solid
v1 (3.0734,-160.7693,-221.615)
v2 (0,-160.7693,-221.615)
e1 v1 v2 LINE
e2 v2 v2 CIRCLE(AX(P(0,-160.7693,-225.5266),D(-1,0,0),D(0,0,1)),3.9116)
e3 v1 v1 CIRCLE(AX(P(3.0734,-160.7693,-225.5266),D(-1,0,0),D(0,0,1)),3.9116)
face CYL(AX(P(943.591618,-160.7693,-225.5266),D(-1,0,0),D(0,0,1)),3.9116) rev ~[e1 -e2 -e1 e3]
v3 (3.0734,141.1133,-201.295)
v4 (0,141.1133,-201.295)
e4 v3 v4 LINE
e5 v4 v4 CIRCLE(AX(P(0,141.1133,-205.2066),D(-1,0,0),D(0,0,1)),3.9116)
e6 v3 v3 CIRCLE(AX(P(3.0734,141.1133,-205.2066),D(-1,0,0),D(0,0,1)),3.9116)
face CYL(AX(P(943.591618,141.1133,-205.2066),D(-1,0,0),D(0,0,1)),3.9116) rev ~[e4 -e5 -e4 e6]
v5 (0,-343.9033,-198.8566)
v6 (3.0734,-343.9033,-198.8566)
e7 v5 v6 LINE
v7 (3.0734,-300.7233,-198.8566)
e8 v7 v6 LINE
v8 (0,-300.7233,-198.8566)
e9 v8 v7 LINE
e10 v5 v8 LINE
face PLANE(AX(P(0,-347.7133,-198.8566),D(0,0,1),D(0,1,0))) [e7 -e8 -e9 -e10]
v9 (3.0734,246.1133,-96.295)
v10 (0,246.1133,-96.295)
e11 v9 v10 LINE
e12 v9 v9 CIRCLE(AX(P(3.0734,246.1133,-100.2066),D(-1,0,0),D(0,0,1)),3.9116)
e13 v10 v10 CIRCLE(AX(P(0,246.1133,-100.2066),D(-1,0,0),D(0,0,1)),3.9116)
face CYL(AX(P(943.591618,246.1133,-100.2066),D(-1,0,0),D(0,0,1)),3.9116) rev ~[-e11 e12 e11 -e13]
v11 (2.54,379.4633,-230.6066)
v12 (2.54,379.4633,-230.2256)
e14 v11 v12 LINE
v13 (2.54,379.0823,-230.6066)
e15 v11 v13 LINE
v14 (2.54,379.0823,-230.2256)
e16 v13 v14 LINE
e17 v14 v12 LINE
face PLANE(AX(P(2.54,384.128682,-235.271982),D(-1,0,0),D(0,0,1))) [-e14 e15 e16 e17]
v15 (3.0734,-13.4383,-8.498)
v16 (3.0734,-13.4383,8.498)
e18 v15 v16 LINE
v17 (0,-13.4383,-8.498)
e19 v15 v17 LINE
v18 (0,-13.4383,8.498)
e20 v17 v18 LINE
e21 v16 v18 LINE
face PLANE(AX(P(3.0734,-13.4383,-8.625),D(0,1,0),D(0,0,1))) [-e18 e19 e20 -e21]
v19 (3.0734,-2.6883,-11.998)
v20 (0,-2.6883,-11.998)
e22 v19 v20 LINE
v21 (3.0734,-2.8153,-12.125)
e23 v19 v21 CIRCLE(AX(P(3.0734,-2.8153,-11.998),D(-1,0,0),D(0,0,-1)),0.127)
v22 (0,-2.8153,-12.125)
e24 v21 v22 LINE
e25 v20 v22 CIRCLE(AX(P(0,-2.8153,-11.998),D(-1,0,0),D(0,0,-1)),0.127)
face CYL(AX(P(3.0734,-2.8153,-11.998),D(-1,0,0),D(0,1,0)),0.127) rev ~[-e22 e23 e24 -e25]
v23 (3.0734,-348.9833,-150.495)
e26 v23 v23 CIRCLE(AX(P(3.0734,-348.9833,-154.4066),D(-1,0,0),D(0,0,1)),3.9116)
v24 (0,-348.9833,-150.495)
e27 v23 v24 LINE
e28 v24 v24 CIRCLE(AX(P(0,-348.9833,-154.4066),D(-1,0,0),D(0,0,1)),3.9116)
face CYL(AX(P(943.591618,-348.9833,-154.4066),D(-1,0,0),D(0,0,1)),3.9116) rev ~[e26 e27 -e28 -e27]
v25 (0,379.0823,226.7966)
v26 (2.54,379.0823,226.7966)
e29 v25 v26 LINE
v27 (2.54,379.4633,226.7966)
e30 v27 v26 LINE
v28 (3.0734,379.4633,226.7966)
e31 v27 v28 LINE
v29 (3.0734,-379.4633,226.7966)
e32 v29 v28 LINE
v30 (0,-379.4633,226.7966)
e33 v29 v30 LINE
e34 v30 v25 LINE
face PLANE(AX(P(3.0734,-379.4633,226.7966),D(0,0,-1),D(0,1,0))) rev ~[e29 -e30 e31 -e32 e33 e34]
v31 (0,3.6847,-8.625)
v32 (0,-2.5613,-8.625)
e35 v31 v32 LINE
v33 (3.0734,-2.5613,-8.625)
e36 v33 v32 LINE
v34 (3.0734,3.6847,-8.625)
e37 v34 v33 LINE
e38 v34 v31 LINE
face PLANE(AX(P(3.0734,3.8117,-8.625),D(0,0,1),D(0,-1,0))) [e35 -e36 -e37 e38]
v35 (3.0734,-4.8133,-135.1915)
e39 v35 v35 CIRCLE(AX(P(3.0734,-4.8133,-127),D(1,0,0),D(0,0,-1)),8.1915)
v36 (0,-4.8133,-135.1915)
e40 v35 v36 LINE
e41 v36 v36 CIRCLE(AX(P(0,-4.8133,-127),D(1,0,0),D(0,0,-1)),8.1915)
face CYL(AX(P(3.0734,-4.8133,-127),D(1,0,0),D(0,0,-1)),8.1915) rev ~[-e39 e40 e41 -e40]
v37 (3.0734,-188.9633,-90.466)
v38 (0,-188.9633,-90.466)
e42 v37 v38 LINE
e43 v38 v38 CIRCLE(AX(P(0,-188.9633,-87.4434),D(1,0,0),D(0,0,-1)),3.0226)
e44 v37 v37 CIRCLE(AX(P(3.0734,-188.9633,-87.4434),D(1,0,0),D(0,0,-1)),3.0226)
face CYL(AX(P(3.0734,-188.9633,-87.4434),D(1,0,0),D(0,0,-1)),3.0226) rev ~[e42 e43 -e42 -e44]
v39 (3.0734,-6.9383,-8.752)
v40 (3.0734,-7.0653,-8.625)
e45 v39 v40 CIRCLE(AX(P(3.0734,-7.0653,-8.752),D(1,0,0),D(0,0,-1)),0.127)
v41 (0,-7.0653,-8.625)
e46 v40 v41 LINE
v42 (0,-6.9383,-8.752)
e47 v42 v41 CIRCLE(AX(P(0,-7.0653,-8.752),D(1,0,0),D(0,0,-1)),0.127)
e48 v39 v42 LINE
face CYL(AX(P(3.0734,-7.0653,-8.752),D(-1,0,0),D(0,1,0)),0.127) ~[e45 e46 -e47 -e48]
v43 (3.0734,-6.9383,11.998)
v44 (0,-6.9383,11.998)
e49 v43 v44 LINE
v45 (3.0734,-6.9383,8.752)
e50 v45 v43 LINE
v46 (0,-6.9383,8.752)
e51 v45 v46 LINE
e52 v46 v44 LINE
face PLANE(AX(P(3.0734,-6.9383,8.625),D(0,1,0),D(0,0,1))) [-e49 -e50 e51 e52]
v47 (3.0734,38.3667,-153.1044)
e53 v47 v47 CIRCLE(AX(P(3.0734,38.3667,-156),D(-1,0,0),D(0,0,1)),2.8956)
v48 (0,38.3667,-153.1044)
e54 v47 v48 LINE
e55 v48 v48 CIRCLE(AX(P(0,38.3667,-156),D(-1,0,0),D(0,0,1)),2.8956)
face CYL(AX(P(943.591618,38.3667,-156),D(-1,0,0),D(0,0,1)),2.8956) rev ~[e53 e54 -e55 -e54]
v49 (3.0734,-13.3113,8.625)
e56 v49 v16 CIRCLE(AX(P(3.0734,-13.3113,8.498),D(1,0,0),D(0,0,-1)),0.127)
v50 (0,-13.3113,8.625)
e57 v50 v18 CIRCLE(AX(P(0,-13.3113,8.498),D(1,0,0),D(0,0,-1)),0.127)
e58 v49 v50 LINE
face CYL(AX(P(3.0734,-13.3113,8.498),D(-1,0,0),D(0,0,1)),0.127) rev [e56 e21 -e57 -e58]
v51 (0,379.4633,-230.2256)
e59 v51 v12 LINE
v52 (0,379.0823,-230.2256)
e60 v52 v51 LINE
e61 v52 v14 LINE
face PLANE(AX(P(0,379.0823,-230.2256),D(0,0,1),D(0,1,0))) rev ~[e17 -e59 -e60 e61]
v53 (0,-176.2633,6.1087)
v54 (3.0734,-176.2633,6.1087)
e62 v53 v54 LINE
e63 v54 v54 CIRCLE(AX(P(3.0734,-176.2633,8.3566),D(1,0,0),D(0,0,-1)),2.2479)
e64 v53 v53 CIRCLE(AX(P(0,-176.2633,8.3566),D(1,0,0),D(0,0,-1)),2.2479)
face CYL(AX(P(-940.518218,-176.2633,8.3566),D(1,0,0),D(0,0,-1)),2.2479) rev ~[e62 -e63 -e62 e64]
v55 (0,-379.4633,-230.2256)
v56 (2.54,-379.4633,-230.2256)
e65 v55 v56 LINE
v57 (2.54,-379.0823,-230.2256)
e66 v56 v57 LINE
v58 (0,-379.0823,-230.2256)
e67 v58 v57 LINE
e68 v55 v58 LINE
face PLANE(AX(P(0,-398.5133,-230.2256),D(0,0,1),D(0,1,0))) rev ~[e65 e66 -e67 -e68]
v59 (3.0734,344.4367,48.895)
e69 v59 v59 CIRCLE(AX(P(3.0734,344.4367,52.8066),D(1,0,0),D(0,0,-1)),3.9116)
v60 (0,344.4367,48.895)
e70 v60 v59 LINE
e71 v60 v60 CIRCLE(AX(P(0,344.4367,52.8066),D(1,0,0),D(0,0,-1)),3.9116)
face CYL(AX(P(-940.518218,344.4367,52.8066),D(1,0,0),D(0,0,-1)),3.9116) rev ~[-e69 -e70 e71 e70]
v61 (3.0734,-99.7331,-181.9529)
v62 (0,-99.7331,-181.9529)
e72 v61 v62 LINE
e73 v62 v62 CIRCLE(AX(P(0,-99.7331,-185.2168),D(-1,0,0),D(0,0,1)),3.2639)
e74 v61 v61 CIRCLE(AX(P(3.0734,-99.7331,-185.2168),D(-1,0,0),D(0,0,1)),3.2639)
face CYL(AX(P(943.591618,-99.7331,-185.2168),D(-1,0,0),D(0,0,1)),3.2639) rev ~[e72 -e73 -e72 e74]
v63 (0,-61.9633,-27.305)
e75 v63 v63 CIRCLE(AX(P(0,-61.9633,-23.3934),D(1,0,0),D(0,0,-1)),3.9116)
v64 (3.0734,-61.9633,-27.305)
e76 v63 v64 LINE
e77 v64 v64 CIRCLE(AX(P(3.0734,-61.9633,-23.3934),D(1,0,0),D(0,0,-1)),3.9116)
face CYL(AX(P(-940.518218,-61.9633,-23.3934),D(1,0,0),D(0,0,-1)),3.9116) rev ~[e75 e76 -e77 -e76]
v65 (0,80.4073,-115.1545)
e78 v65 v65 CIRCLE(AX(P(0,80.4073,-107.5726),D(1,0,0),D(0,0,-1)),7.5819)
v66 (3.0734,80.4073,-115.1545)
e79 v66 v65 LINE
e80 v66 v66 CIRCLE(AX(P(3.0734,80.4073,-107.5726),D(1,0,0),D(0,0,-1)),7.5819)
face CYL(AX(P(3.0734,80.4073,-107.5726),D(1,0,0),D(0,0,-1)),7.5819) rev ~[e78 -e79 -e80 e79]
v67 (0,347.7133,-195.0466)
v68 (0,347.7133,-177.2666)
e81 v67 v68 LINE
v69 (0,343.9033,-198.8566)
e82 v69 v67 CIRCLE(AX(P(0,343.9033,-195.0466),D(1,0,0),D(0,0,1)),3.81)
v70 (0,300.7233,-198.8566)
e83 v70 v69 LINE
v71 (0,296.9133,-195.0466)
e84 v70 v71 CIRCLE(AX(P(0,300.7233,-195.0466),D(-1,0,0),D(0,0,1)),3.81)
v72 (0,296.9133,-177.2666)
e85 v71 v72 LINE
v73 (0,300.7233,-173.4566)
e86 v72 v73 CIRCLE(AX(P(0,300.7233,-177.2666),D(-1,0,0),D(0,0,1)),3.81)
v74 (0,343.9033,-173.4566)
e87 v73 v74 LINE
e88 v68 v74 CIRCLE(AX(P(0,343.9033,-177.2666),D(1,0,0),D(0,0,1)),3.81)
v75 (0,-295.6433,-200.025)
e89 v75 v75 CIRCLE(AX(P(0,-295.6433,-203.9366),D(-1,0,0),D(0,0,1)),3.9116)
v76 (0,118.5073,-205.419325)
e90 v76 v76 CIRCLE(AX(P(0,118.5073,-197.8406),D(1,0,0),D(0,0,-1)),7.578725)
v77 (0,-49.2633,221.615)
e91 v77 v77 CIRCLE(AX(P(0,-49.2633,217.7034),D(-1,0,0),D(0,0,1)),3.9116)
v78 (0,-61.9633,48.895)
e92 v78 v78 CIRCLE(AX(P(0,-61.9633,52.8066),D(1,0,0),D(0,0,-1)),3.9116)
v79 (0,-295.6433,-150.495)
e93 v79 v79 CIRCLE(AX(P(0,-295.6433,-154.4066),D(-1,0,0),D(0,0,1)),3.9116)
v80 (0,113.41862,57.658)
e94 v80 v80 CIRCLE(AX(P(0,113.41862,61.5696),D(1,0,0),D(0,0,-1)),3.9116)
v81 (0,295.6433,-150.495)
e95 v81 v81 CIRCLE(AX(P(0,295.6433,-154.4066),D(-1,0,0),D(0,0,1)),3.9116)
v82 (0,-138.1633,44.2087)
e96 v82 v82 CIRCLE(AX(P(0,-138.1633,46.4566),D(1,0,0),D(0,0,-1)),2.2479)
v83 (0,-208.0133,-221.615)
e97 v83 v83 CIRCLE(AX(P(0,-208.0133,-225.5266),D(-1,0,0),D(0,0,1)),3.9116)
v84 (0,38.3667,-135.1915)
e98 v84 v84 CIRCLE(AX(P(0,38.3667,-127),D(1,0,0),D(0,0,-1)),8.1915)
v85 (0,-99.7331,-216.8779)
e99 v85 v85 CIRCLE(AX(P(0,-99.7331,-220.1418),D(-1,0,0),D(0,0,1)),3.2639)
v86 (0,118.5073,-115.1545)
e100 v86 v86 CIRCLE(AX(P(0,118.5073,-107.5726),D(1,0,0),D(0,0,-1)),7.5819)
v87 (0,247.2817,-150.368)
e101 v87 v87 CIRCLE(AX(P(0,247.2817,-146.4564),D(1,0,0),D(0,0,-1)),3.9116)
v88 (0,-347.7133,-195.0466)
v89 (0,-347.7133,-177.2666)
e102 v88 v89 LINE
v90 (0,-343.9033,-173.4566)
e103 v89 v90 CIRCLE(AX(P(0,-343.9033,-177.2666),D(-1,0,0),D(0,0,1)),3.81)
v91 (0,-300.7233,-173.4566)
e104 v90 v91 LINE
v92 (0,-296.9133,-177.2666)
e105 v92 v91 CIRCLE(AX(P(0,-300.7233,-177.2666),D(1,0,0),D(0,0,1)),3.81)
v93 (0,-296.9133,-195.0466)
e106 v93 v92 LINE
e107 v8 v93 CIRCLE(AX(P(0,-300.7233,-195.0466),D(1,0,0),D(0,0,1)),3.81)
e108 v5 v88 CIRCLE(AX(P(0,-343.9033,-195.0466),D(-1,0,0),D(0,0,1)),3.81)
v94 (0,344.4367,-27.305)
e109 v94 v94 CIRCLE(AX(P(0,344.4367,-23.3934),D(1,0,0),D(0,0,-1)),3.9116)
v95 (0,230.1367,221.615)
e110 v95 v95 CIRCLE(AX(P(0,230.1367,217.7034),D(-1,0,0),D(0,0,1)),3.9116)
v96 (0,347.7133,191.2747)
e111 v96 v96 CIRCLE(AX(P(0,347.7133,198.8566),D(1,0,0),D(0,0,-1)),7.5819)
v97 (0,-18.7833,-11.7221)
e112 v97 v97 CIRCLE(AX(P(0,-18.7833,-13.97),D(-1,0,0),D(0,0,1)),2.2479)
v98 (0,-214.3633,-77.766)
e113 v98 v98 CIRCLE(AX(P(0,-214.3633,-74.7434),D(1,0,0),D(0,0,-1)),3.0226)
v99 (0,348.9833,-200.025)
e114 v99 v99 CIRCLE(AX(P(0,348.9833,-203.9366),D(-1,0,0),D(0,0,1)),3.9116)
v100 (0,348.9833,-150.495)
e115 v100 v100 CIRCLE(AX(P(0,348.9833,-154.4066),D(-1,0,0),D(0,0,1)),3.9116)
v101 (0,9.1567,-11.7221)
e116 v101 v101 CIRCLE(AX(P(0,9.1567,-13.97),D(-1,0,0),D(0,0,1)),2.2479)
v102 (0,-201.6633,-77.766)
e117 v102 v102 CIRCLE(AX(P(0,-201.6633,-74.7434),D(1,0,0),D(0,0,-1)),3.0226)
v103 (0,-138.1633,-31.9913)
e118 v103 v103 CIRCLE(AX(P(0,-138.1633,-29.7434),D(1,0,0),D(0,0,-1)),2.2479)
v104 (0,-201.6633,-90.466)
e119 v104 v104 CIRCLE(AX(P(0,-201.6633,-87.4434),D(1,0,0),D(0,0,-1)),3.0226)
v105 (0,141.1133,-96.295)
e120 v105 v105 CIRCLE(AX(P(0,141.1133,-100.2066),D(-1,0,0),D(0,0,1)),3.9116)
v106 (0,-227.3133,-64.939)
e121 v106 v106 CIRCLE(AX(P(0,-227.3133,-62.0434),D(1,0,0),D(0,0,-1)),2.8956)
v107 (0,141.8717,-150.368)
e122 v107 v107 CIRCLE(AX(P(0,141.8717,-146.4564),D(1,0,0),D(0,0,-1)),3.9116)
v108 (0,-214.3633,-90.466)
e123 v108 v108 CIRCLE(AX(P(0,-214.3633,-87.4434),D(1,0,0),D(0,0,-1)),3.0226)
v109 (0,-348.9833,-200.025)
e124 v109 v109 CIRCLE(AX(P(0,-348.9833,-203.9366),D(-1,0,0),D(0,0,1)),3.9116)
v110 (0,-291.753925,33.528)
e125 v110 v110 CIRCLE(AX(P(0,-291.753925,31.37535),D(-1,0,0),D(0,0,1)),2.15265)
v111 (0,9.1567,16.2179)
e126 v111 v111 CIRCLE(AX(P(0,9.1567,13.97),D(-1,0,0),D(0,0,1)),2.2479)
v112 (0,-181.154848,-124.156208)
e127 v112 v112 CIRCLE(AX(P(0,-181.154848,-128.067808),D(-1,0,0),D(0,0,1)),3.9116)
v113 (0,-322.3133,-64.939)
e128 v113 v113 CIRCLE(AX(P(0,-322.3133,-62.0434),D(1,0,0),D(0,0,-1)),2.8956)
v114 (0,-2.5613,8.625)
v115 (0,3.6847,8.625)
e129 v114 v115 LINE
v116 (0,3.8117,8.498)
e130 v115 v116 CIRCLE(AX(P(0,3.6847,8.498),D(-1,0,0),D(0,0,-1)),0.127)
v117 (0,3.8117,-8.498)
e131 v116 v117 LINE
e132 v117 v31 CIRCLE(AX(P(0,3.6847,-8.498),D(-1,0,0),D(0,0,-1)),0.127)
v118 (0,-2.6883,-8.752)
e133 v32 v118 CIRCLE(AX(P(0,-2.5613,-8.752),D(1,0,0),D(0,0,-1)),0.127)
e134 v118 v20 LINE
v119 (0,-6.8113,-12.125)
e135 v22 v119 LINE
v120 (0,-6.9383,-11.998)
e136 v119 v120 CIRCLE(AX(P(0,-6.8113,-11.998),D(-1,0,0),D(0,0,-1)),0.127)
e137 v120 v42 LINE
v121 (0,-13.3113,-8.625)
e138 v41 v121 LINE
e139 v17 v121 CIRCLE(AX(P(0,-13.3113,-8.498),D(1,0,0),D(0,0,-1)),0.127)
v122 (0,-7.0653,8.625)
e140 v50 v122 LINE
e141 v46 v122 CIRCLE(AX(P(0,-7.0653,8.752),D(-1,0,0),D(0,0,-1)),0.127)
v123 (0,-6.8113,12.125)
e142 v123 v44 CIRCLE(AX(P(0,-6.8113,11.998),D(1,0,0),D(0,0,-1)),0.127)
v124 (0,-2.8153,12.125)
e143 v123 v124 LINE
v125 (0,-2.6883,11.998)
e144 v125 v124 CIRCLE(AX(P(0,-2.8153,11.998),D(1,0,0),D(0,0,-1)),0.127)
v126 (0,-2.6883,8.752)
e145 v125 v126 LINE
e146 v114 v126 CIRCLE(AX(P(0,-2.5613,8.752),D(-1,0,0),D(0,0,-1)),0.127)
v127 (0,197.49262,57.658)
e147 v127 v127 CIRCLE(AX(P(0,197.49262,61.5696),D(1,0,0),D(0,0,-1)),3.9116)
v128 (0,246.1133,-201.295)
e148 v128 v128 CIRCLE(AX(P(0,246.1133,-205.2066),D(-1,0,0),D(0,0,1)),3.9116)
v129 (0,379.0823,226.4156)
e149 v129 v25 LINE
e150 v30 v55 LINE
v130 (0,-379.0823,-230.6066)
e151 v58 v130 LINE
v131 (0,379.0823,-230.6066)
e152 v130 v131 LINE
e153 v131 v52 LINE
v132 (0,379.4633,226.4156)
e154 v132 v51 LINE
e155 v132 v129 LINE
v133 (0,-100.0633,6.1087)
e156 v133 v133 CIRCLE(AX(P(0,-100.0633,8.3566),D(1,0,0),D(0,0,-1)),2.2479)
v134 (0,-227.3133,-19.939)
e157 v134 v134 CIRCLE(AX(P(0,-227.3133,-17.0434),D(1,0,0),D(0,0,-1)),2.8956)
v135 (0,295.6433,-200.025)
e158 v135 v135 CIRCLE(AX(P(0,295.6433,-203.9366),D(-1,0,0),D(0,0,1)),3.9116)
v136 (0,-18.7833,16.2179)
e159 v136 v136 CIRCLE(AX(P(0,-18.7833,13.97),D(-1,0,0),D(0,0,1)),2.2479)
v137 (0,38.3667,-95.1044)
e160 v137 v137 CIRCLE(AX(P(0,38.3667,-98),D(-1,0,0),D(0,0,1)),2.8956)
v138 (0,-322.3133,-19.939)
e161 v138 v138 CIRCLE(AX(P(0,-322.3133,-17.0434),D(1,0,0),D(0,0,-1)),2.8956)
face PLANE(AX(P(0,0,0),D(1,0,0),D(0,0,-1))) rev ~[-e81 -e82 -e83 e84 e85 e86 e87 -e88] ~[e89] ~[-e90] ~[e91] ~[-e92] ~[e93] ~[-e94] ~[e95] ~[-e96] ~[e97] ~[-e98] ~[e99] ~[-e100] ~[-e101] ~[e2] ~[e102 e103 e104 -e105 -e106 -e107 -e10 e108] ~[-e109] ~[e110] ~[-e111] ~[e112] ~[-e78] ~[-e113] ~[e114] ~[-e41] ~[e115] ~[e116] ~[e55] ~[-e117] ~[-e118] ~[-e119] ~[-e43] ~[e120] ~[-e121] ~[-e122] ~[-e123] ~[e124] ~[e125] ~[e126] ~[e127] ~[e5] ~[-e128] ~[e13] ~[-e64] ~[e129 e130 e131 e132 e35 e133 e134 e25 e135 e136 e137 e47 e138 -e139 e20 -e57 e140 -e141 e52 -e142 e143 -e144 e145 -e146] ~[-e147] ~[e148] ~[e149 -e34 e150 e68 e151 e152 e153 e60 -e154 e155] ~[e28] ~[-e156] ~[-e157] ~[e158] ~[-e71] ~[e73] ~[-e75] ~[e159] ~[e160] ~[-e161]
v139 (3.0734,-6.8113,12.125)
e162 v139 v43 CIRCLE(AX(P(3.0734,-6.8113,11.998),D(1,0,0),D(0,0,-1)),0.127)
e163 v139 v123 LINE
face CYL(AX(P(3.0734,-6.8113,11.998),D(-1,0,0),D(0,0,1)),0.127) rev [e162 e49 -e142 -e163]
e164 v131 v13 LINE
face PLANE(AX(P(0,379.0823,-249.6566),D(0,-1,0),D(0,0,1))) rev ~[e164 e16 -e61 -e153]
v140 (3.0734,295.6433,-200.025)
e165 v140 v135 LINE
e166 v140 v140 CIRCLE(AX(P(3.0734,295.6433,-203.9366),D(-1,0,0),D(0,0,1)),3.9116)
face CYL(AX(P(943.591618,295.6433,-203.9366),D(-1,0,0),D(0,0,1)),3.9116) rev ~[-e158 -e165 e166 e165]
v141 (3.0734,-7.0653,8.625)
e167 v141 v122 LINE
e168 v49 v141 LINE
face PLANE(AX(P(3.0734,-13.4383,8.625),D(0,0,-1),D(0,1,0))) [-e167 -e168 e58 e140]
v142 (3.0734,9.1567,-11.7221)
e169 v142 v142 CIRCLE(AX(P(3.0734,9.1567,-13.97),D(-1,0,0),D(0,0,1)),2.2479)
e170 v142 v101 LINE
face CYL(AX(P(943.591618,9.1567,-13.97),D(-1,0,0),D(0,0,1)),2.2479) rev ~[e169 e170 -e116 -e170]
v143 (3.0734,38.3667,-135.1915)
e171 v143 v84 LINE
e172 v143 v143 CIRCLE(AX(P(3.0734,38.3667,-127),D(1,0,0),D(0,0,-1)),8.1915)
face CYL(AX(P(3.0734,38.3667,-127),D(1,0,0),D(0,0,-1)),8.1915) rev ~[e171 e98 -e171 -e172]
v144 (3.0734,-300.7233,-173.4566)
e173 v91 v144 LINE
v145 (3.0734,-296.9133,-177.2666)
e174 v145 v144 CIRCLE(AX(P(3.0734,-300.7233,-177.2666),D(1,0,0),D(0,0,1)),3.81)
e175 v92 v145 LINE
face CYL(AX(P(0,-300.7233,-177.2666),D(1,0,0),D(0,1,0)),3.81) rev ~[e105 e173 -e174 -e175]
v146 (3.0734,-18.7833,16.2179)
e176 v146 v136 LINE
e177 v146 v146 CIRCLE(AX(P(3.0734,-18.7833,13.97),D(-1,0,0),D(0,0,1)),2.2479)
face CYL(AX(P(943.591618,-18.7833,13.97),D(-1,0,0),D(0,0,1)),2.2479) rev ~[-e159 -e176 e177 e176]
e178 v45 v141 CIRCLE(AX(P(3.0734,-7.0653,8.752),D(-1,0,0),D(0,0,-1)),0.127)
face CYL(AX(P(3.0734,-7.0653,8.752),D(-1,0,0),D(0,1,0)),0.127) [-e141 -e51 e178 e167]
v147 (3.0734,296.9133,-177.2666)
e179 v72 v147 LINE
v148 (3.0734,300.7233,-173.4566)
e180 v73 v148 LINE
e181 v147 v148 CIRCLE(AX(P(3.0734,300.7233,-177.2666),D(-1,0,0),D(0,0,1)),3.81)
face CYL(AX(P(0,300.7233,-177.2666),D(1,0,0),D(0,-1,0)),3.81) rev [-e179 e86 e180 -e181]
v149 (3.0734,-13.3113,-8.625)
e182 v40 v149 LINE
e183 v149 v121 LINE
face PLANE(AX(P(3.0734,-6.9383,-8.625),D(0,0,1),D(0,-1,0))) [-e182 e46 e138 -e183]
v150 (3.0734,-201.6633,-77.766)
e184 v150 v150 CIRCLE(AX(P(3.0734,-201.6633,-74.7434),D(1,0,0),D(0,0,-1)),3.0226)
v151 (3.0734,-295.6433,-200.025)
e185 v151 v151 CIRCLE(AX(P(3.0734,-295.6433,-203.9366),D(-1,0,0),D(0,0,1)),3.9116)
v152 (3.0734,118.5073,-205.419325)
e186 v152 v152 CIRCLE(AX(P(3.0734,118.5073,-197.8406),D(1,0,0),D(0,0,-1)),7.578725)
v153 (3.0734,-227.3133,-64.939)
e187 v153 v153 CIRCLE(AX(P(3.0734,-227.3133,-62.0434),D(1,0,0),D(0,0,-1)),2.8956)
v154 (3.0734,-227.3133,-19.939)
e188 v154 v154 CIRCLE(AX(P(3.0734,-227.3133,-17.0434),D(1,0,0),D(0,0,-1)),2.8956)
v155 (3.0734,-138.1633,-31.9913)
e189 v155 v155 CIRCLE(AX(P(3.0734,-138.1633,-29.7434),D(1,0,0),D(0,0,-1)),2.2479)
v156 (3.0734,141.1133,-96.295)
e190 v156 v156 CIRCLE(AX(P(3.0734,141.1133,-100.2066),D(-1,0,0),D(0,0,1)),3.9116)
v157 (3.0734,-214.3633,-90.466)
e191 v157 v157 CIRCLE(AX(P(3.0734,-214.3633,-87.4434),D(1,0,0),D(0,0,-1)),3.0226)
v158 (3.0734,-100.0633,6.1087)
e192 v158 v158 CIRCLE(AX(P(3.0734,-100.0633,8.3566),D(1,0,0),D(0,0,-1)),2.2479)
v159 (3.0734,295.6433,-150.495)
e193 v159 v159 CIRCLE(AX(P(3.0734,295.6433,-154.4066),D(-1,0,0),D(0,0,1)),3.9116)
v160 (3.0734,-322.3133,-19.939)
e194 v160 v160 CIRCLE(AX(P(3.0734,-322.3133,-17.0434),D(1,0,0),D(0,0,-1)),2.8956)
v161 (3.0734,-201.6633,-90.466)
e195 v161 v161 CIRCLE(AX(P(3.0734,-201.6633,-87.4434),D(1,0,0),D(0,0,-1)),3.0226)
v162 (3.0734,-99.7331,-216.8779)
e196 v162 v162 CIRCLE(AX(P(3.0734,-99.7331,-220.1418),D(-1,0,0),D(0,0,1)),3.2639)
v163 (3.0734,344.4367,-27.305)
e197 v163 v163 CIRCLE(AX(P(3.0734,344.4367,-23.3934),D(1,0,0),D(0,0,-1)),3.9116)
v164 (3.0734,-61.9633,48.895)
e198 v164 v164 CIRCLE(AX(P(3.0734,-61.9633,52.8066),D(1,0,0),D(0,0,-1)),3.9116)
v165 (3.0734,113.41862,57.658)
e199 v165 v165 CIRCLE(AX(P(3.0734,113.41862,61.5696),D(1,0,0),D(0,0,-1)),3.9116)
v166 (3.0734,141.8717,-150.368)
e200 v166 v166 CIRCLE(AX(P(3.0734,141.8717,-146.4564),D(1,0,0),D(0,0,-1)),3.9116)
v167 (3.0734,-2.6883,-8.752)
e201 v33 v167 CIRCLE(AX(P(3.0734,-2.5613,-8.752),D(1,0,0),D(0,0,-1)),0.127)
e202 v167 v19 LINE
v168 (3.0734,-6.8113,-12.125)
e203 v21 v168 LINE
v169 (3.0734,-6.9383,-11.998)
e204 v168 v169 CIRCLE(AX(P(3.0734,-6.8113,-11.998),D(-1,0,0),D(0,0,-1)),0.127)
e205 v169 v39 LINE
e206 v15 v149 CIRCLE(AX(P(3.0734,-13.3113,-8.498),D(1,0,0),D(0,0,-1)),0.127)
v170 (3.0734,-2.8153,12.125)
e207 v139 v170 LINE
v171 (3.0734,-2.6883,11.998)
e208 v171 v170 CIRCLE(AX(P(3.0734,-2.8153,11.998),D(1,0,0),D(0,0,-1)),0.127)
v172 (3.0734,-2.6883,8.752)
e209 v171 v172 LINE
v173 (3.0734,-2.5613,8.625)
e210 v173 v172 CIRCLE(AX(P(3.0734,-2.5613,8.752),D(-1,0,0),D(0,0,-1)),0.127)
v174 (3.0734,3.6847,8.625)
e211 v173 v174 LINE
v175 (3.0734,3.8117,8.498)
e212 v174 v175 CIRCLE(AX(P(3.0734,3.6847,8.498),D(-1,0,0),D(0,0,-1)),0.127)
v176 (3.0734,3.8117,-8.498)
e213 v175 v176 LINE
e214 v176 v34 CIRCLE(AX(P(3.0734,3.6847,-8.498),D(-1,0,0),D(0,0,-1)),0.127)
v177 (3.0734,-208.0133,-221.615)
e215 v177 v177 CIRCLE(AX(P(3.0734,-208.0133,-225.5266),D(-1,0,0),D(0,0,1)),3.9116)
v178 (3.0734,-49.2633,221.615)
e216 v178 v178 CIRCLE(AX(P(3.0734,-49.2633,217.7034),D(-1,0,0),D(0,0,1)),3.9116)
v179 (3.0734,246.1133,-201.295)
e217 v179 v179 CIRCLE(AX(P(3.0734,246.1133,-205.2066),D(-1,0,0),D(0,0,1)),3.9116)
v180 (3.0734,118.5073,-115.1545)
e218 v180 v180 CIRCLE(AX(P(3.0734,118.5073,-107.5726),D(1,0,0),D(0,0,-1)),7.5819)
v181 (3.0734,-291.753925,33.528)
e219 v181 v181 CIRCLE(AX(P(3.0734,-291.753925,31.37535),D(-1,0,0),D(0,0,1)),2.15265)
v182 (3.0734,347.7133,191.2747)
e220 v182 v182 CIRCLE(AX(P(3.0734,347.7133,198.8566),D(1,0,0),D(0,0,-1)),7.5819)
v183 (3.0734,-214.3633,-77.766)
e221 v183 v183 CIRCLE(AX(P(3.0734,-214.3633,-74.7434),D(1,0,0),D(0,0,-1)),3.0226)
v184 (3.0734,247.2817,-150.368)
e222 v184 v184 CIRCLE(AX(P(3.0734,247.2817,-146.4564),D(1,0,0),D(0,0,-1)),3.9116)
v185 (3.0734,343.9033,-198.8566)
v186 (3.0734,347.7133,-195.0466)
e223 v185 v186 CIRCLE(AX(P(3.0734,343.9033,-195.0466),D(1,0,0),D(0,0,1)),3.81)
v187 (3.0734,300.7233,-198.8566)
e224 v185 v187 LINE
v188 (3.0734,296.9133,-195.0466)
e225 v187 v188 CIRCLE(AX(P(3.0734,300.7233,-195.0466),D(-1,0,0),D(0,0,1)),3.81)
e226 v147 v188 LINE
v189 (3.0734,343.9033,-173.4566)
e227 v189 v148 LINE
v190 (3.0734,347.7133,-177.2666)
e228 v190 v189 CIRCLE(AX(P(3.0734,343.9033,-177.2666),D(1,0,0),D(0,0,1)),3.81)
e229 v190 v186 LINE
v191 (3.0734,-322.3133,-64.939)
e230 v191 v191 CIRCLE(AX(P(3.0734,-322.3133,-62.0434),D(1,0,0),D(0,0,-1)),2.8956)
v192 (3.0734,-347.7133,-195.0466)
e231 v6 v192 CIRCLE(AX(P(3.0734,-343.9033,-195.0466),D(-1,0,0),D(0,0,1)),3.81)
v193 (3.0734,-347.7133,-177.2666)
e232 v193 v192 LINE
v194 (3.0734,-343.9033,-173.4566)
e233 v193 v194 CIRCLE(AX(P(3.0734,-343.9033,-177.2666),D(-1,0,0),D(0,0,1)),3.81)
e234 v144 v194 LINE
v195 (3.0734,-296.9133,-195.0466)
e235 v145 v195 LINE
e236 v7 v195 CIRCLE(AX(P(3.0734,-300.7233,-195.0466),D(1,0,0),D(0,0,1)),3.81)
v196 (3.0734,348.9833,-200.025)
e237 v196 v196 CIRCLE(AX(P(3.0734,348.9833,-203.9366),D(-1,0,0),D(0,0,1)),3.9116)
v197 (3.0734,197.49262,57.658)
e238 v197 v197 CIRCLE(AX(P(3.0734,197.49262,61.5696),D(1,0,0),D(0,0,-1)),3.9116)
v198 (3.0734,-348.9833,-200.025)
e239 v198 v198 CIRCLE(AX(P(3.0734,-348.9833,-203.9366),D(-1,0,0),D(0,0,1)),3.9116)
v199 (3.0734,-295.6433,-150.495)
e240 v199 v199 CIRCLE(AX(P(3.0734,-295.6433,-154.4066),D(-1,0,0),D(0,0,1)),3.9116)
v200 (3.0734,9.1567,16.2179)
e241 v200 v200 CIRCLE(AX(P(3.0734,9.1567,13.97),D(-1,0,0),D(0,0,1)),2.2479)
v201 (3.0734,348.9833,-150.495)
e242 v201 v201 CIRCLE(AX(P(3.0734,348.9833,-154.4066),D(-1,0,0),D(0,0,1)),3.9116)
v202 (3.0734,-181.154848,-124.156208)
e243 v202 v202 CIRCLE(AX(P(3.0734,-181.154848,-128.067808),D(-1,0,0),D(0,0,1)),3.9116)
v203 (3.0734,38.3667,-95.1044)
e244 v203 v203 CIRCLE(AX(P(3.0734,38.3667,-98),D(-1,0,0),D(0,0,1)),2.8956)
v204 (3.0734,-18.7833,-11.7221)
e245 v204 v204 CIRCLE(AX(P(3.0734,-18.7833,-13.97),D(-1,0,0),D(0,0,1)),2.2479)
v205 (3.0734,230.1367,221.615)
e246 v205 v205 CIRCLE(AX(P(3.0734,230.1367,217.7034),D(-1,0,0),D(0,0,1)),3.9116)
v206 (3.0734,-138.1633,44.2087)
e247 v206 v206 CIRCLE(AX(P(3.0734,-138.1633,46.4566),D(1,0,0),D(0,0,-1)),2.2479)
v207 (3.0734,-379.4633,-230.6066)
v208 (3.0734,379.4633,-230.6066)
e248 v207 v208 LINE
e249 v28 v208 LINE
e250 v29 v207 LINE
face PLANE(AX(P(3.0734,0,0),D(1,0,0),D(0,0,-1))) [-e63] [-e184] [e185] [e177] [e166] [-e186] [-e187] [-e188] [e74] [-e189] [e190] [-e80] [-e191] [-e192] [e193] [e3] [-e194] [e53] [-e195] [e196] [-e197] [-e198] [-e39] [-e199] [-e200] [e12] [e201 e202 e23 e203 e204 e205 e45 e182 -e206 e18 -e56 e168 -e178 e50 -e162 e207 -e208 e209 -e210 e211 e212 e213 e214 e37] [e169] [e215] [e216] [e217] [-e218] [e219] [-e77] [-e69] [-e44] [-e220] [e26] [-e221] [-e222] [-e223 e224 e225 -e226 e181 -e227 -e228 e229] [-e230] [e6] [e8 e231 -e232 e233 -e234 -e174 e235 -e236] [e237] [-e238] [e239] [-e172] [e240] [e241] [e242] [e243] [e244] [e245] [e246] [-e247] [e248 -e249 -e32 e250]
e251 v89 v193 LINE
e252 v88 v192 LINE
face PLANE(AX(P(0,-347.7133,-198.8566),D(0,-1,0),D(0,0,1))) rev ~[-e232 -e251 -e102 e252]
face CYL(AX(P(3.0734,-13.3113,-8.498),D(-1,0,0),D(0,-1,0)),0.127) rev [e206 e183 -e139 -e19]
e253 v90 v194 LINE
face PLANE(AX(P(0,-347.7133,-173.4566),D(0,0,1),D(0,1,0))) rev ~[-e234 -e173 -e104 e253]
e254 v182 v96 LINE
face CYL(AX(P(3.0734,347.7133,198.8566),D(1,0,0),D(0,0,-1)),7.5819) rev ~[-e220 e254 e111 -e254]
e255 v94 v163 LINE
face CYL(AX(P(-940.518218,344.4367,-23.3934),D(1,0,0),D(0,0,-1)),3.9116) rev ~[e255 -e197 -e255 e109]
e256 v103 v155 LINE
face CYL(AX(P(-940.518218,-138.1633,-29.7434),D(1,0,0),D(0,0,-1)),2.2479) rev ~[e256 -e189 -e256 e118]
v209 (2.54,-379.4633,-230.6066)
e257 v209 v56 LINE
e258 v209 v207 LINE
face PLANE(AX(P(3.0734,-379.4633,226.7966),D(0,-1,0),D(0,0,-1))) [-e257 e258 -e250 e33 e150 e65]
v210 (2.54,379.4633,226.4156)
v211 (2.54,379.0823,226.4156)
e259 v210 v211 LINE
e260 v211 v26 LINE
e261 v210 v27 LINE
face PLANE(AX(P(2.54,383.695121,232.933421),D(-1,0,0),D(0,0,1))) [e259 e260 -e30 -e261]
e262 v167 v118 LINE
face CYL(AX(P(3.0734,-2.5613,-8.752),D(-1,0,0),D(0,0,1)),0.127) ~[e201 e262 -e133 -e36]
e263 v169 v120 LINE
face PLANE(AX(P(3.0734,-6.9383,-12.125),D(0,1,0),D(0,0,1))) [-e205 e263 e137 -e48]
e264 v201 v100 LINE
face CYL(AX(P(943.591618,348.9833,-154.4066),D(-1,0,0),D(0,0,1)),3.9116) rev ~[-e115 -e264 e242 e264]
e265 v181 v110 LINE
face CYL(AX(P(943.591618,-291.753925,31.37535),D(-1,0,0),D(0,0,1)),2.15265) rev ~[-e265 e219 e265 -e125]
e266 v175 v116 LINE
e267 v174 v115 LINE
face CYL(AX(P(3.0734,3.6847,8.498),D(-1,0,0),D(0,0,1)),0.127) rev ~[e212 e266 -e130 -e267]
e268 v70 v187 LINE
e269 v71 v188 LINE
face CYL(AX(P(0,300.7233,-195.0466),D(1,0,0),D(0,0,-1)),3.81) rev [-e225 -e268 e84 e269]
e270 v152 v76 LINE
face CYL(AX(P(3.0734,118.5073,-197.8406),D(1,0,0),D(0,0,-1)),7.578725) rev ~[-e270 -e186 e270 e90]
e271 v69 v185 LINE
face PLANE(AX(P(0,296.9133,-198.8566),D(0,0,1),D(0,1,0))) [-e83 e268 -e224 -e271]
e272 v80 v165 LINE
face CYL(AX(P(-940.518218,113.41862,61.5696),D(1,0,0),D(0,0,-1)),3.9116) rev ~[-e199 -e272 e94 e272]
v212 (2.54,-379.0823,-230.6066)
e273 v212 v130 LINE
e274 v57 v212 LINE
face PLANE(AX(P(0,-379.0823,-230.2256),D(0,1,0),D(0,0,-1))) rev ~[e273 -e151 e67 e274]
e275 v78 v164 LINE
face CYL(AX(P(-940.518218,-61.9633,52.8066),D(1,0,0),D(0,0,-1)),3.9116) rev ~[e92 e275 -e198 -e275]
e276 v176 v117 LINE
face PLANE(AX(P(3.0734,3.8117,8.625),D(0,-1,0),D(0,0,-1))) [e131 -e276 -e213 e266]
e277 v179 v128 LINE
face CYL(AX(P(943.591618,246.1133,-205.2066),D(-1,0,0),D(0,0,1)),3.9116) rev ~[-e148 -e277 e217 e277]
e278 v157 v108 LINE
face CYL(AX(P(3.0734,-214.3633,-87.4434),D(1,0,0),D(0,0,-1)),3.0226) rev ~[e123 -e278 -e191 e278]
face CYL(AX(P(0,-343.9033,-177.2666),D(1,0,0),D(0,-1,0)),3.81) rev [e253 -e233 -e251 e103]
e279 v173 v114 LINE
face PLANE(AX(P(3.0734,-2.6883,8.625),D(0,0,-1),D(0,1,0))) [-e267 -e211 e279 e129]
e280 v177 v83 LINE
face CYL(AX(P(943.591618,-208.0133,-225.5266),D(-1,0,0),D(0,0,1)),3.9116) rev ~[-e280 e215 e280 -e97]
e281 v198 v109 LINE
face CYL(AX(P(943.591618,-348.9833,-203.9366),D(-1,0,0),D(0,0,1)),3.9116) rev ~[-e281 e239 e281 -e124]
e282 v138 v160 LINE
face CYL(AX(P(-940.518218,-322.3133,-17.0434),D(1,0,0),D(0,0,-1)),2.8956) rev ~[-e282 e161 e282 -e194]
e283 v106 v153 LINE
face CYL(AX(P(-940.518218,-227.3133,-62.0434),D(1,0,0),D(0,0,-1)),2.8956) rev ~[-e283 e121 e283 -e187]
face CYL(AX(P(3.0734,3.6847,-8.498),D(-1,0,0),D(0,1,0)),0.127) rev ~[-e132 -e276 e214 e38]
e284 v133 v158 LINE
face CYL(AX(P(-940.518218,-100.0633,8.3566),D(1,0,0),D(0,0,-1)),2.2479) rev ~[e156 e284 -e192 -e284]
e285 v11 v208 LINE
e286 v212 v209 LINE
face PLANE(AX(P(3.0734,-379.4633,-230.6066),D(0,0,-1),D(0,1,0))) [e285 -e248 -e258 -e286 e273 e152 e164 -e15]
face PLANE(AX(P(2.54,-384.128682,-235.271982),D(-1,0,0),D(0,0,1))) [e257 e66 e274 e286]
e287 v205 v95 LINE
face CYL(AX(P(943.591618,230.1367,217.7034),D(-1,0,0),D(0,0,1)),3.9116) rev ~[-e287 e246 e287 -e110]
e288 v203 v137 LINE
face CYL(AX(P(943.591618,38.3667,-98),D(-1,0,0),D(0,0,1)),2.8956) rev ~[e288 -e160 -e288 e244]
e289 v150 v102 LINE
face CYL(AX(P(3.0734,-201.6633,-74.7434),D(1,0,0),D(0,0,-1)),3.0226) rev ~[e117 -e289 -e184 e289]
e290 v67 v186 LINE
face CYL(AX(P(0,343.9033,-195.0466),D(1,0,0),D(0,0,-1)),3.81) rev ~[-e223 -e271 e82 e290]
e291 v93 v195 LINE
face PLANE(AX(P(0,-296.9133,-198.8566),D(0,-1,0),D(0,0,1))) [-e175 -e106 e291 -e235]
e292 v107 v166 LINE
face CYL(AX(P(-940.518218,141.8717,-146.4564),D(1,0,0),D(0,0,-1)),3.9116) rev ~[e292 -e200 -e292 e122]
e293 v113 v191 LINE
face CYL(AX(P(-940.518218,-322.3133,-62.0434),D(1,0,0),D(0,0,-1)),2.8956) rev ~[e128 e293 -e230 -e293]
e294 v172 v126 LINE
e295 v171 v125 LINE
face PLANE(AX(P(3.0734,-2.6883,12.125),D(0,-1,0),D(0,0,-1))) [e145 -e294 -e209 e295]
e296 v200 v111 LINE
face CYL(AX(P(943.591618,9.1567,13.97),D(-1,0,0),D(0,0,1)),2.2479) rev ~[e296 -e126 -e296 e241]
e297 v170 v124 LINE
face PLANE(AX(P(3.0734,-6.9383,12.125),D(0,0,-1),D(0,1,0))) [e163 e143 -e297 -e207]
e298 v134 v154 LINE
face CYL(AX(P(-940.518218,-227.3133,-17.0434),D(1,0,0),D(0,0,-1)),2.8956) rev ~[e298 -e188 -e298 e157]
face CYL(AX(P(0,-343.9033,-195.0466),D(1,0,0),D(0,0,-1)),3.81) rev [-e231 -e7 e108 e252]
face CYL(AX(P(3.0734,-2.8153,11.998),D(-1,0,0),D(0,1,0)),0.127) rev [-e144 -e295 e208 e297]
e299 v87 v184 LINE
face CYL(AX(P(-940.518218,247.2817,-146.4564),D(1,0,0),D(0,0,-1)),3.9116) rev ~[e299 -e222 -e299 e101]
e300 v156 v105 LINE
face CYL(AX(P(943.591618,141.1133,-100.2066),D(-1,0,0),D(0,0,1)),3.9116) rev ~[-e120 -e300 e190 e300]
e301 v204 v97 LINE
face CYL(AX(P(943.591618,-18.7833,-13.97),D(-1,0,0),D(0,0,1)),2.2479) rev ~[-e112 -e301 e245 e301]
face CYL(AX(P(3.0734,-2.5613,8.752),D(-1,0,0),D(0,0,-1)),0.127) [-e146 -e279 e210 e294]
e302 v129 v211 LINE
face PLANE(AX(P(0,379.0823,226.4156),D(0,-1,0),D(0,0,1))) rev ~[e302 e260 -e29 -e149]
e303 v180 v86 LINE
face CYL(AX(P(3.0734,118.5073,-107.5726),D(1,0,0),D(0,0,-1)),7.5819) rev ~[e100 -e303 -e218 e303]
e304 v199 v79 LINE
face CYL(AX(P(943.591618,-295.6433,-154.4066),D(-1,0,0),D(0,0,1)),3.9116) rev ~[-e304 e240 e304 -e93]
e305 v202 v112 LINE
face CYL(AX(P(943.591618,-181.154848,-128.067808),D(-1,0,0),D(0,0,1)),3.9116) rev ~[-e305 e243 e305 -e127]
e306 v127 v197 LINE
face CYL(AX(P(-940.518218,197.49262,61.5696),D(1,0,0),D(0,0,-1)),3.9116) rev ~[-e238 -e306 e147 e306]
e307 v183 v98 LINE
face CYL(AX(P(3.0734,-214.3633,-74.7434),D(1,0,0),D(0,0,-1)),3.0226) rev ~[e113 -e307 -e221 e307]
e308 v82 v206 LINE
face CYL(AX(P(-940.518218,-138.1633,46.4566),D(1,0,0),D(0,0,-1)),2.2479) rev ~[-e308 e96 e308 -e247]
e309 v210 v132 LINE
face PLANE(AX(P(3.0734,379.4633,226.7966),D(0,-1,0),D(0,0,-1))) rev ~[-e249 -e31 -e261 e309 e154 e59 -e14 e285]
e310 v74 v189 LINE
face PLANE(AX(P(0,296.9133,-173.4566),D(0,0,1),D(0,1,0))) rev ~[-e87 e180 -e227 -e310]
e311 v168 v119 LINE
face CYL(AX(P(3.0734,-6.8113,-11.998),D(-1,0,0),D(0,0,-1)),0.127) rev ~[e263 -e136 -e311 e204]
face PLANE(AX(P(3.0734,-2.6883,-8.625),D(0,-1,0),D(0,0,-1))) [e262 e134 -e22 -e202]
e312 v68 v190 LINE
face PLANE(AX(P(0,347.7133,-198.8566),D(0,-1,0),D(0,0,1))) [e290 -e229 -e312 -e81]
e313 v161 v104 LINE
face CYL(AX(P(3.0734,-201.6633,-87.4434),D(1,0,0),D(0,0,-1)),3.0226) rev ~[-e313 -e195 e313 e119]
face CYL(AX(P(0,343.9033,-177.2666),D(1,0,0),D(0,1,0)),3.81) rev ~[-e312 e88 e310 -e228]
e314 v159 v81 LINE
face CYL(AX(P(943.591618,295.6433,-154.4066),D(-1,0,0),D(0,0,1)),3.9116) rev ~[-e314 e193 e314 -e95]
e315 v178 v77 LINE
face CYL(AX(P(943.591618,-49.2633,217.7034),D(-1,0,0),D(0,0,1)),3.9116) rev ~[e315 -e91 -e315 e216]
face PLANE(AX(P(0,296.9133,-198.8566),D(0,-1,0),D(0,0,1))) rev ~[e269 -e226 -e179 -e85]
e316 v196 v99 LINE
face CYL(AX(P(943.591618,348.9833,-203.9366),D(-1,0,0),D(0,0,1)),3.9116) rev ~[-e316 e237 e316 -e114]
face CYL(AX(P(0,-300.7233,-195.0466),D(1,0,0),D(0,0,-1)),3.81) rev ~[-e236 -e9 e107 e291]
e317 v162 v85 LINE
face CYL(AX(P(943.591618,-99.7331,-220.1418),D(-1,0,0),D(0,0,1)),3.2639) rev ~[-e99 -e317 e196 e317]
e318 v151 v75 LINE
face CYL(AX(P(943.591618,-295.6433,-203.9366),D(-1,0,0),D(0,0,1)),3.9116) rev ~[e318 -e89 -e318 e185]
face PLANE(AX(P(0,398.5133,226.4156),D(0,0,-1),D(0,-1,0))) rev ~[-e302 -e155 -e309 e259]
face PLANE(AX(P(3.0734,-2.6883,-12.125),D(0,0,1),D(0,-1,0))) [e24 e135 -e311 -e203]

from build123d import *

# Parameters (mm, degrees)
SKETCH1_W                                   = 499.3132
SKETCH1_H                                   = 797.0266
SIDEPANEL_DEPTH                             = 3.0734
SKETCH2_R                                   = 2.8956
TOPBOTTOMHOLEMASTER_DEPTH                   = 4.0734
LPATTERN1_COUNT                             = 4
LPATTERN1_PITCH                             = 127.067733333
SKETCH3_R                                   = 2.8956
REARHOLESMASTER_DEPTH                       = 4.0734
LPATTERN2_COUNT                             = 4
LPATTERN2_PITCH                             = 211.7344
SKETCH4_W                                   = 19.05
SKETCH4_H                                   = 19.05
SKETCH4_W_2                                 = 22.86
CORNERCUTS_DEPTH                            = 4.0734
F_8_CLEARANCE_HOLE4_BRAIN_MOUNT_D           = 7.8232
F_8_CLEARANCE_HOLE3_PUMP_MOUNTS_D           = 4.4958
SKETCH17_W                                  = 25.4
SKETCH17_H                                  = 50.8
CABLE_PASS_THROUGH_DEPTH                    = 4.0734
F_8_CLEARANCE_HOLE1_PASS_THROUGH_MOUNTING_D = 7.8232
CUT_EXTRUDE1_DEPTH                          = 2.54
F_8_CLEARANCE_HOLE_HX_MOUNT_D               = 7.8232
SKETCH42_R                                  = 7.578725
SKETCH42_R_2                                = 7.5819
COOLANT_HOSE_PASS_THROUGH_DEPTH             = 4.0734
SKETCH43_R                                  = 7.5819
AIR_FLUSH_IN_OUT_DEPTH                      = 4.0734
F_8_CLEARANCE_HOLE2_AIR_FLUSH_OUT_MOUNT_D   = 7.8232
F_8_CLEARANCE_HOLE4_PANEL_MOUNTS_D          = 7.8232
FILLET1_R                                   = 3.81
SKETCH50_OUTSIDE_W                          = 689.418
SKETCH50_OUTSIDE_H                          = 987.13
SKETCH50_OUTSIDE_R                          = 8.1915
SENSOR_MOUNTING_DEPTH                       = 4.0734
F_8_CLEARANCE_HOLE1_D                       = 4.4958
F_12_CLEARANCE_HOLE1_D                      = 5.7912
FILLET2_R                                   = 0.127
F_4_CLEARANCE_HOLE_COMPRESSOR_DRIVER_D      = 5.7912
F_1_4_CLEARANCE_HOLE_BALL_VALVE_U_BOLT_D    = 6.5278
AERATION_PUMP_8_CLEARANCE_HOLE1_D           = 4.3053
NUTRIENT_HOLES_R                            = 3.0226
NUTRIENT_HOSES_DEPTH                        = 4.0734
LPATTERN3_COUNT                             = 3
LPATTERN3_PITCH                             = 12.7
LPATTERN3_COUNT_DIR2                        = 3
LPATTERN3_PITCH_DIR2                        = 12.7
SKETCH61_W                                  = 508.2032
SKETCH61_H                                  = 809.7266
SKETCH61_W_2                                = 457.4032
SKETCH61_H_2                                = 758.9266
CUT_EXTRUDE2_DEPTH                          = 4.0734


with BuildPart() as part:
    # Sketch1 → SidePanel (new body)
    with BuildSketch(Plane(origin=(0, 0, 0), x_dir=(0, 0, -1), z_dir=(1, 0, 0))):
        Rectangle(SKETCH1_W, SKETCH1_H)
    extrude(amount=SIDEPANEL_DEPTH)

    # Sketch2 → TopBottomHoleMaster (cut, through all)
    with BuildSketch(Plane(origin=(3.0734, 0, 0), x_dir=(0, 0, -1), z_dir=(1, 0, 0))):
        with Locations((192.5066, 388.9883)):
            Circle(SKETCH2_R)
        with Locations((192.5066, -388.9883)):
            Circle(SKETCH2_R)
    topbottomholemaster = extrude(amount=-TOPBOTTOMHOLEMASTER_DEPTH, mode=Mode.SUBTRACT)

    # LPattern1: TopBottomHoleMaster ×4
    with Locations(*[(0, 0, i * LPATTERN1_PITCH) for i in range(1, LPATTERN1_COUNT)]):
        add(topbottomholemaster, mode=Mode.SUBTRACT)

    # Sketch3 → RearHolesMaster (cut, through all)
    with BuildSketch(Plane(origin=(3.0734, 0, 0), x_dir=(0, 0, -1), z_dir=(1, 0, 0))):
        with Locations((-236.3216, 315.8617)):
            Circle(SKETCH3_R)
        with Locations((240.1316, 315.8617)):
            Circle(SKETCH3_R)
    rearholesmaster = extrude(amount=-REARHOLESMASTER_DEPTH, mode=Mode.SUBTRACT)

    # LPattern2: RearHolesMaster ×4
    with Locations(*[(0, -i * LPATTERN2_PITCH, 0) for i in range(1, LPATTERN2_COUNT)]):
        add(rearholesmaster, mode=Mode.SUBTRACT)

    # Sketch4 → CornerCuts (cut, through all)
    with BuildSketch(Plane.ZY):
        with Locations((-240.1316, 388.9883)):
            Rectangle(SKETCH4_W, SKETCH4_H)
        with Locations((238.2266, 388.9883)):
            Rectangle(SKETCH4_W_2, SKETCH4_H)
        with Locations((-240.1316, -388.9883)):
            Rectangle(SKETCH4_W, SKETCH4_H)
    extrude(amount=-CORNERCUTS_DEPTH, mode=Mode.SUBTRACT)

    # #8 Clearance Hole4 Brain Mount (through all)
    with Locations(Plane.ZY):
        with Locations((-23.3934, 344.4367), (52.8066, 344.4367), (52.8066, -61.9633), (-23.3934, -61.9633), (-146.4564, 141.8717), (-146.4564, 247.2817), (61.5696, 197.49262), (61.5696, 113.41862)):
            Hole(F_8_CLEARANCE_HOLE4_BRAIN_MOUNT_D / 2)

    # #8 Clearance Hole3 Pump Mounts (through all)
    with Locations(Plane.ZY):
        with Locations((46.4566, -138.1633), (8.3566, -100.0633), (8.3566, -176.2633), (-29.7434, -138.1633)):
            Hole(F_8_CLEARANCE_HOLE3_PUMP_MOUNTS_D / 2)

    # Sketch17 → Cable Pass Through (cut, through all)
    with BuildSketch(Plane.ZY):
        with Locations((-186.1566, 322.3133)):
            Rectangle(SKETCH17_W, SKETCH17_H)
        with Locations((-186.1566, -322.3133)):
            Rectangle(SKETCH17_W, SKETCH17_H)
    extrude(amount=-CABLE_PASS_THROUGH_DEPTH, mode=Mode.SUBTRACT)

    # #8 Clearance Hole1 Pass through Mounting holes (through all)
    with Locations(Plane(origin=(3.0734, 0, 0), x_dir=(0, 0, -1), z_dir=(1, 0, 0))):
        with Locations((154.4066, -348.9833), (203.9366, -348.9833), (203.9366, -295.6433), (154.4066, -295.6433), (154.4066, 348.9833), (203.9366, 348.9833), (203.9366, 295.6433), (154.4066, 295.6433)):
            Hole(F_8_CLEARANCE_HOLE1_PASS_THROUGH_MOUNTING_D / 2)

    # Sketch39 → Cut-Extrude1 (cut)
    with BuildSketch(Plane.ZY):
        Polygon((-230.2256, 398.5133), (-230.6066, 398.5133), (-230.6066, 379.4633), (-249.6566, 379.4633), (-249.6566, 379.0823), (-230.2256, 379.0823), align=None)
        Polygon((-249.6566, -379.0823), (-249.6566, -379.4633), (-230.6066, -379.4633), (-230.6066, -398.5133), (-230.2256, -398.5133), (-230.2256, -379.0823), align=None)
        Polygon((226.7966, 398.5133), (226.4156, 398.5133), (226.4156, 379.0823), (249.6566, 379.0823), (249.6566, 379.4633), (226.7966, 379.4633), align=None)
    extrude(amount=-CUT_EXTRUDE1_DEPTH, mode=Mode.SUBTRACT)

    # #8 Clearance Hole -hx mount (through all)
    with Locations(Plane(origin=(3.0734, 0, 0), x_dir=(0, 0, -1), z_dir=(1, 0, 0))):
        with Locations((205.2066, 246.1133), (205.2066, 141.1133), (100.2066, 141.1133), (100.2066, 246.1133)):
            Hole(F_8_CLEARANCE_HOLE_HX_MOUNT_D / 2)

    # Sketch42 → Coolant hose pass through (cut, through all)
    with BuildSketch(Plane(origin=(3.0734, 0, 0), x_dir=(0, 0, -1), z_dir=(1, 0, 0))):
        with Locations((197.8406, 118.5073)):
            Circle(SKETCH42_R)
        with Locations((107.5726, 118.5073)):
            Circle(SKETCH42_R_2)
    extrude(amount=-COOLANT_HOSE_PASS_THROUGH_DEPTH, mode=Mode.SUBTRACT)

    # Sketch43 → Air flush in/out (cut, through all)
    with BuildSketch(Plane(origin=(3.0734, 0, 0), x_dir=(0, 0, -1), z_dir=(1, 0, 0))):
        with Locations((-198.8566, 347.7133)):
            Circle(SKETCH43_R)
        with Locations((107.5726, 80.4073)):
            Circle(SKETCH43_R)
    extrude(amount=-AIR_FLUSH_IN_OUT_DEPTH, mode=Mode.SUBTRACT)

    # #8 Clearance Hole2 Air Flush Out mount (through all)
    with Locations(Plane(origin=(3.0734, 0, 0), x_dir=(0, 0, -1), z_dir=(1, 0, 0))):
        with Locations((225.5266, -160.7693), (225.5266, -208.0133), (128.067808498, -181.154848387)):
            Hole(F_8_CLEARANCE_HOLE2_AIR_FLUSH_OUT_MOUNT_D / 2)

    # #8 Clearance Hole4 Panel Mounts (through all)
    with Locations(Plane(origin=(3.0734, 0, 0), x_dir=(0, 0, -1), z_dir=(1, 0, 0))):
        with Locations((-217.7034, 230.1367), (-217.7034, -49.2633)):
            Hole(F_8_CLEARANCE_HOLE4_PANEL_MOUNTS_D / 2)

    # Fillet1
    fillet1_edges = [part.edges().sort_by_distance(p)[0] for p in [
        (1.5367, 296.9133, -198.8566),
        (1.5367, 347.7133, -198.8566),
        (1.5367, 347.7133, -173.4566),
        (1.5367, 296.9133, -173.4566),
        (1.5367, -347.7133, -173.4566),
        (1.5367, -347.7133, -198.8566),
        (1.5367, -296.9133, -198.8566),
        (1.5367, -296.9133, -173.4566),
    ]]
    fillet(fillet1_edges, radius=FILLET1_R)

    # Sketch50 outside → Sensor Mounting (cut, through all)
    with BuildSketch(Plane(origin=(3.0734, 0, 0), x_dir=(0, 0, -1), z_dir=(1, 0, 0))):
        Rectangle(SKETCH50_OUTSIDE_W, SKETCH50_OUTSIDE_H)
        Polygon((230.6066, -379.4633), (249.6566, -379.4633), (249.6566, 379.4633), (230.6066, 379.4633), (230.6066, 398.5133), (-226.7966, 398.5133), (-226.7966, 379.4633), (-249.6566, 379.4633), (-249.6566, -398.5133), (230.6066, -398.5133), align=None, mode=Mode.SUBTRACT)
        with Locations((127, -4.8133)):
            Circle(SKETCH50_OUTSIDE_R)
        with Locations((127, 38.3667)):
            Circle(SKETCH50_OUTSIDE_R)
        Polygon((-8.625, 3.8117), (8.625, 3.8117), (8.625, -2.6883), (12.125, -2.6883), (12.125, -6.9383), (8.625, -6.9383), (8.625, -13.4383), (-8.625, -13.4383), (-8.625, -6.9383), (-12.125, -6.9383), (-12.125, -2.6883), (-8.625, -2.6883), align=None)
    extrude(amount=-SENSOR_MOUNTING_DEPTH, mode=Mode.SUBTRACT)

    # #8 Clearance Hole1 (through all)
    with Locations(Plane(origin=(3.0734, 0, 0), x_dir=(0, 0, -1), z_dir=(1, 0, 0))):
        with Locations((-13.97, 9.1567), (13.97, 9.1567), (13.97, -18.7833), (-13.97, -18.7833)):
            Hole(F_8_CLEARANCE_HOLE1_D / 2)

    # #12 Clearance Hole1 (through all)
    with Locations(Plane(origin=(3.0734, 0, 0), x_dir=(0, 0, -1), z_dir=(1, 0, 0))):
        with Locations((98, 38.3667), (156, 38.3667)):
            Hole(F_12_CLEARANCE_HOLE1_D / 2)

    # Fillet2
    fillet2_edges = [part.edges().sort_by_distance(p)[0] for p in [
        (1.5367, -2.6883, 8.625),
        (1.5367, 3.8117, 8.625),
        (1.5367, 3.8117, -8.625),
        (1.5367, -2.6883, -8.625),
        (1.5367, -2.6883, -12.125),
        (1.5367, -6.9383, -12.125),
        (1.5367, -6.9383, -8.625),
        (1.5367, -13.4383, -8.625),
        (1.5367, -13.4383, 8.625),
        (1.5367, -6.9383, 8.625),
        (1.5367, -6.9383, 12.125),
        (1.5367, -2.6883, 12.125),
    ]]
    fillet(fillet2_edges, radius=FILLET2_R)

    # #4 Clearance Hole compressor driver (through all)
    with Locations(Plane.ZY):
        with Locations((-17.0434, -227.3133), (-62.0434, -227.3133), (-62.0434, -322.3133), (-17.0434, -322.3133)):
            Hole(F_4_CLEARANCE_HOLE_COMPRESSOR_DRIVER_D / 2)

    # 1/4 Clearance Hole ball valve u bolt (through all)
    with Locations(Plane(origin=(3.0734, 0, 0), x_dir=(0, 0, -1), z_dir=(1, 0, 0))):
        with Locations((220.1418, -99.7331), (185.2168, -99.7331)):
            Hole(F_1_4_CLEARANCE_HOLE_BALL_VALVE_U_BOLT_D / 2)

    # Aeration Pump #8 Clearance Hole1 (through all)
    with Locations(Plane(origin=(3.0734, 0, 0), x_dir=(0, 0, -1), z_dir=(1, 0, 0))):
        with Locations((-31.37535, -291.753925)):
            Hole(AERATION_PUMP_8_CLEARANCE_HOLE1_D / 2)

    # Nutrient Holes → Nutrient Hoses (cut, through all)
    with BuildSketch(Plane(origin=(3.0734, 0, 0), x_dir=(0, 0, -1), z_dir=(1, 0, 0))):
        with Locations((87.4434, -214.3633)):
            Circle(NUTRIENT_HOLES_R)
    nutrient_hoses = extrude(amount=-NUTRIENT_HOSES_DEPTH, mode=Mode.SUBTRACT)

    # LPattern3: Nutrient Hoses 3 × 3, 4 skipped
    with Locations(*[(0, i * LPATTERN3_PITCH, j * LPATTERN3_PITCH_DIR2) for i in range(LPATTERN3_COUNT) for j in range(LPATTERN3_COUNT_DIR2) if (i, j) not in ((0, 0), (0, 2), (1, 2), (2, 1), (2, 2))]):
        add(nutrient_hoses, mode=Mode.SUBTRACT)

    # Sketch61 → Cut-Extrude2 (cut, through all)
    with BuildSketch(Plane(origin=(3.0734, 0, 0), x_dir=(0, 0, -1), z_dir=(1, 0, 0))):
        with Locations((1.905, 0)):
            Rectangle(SKETCH61_W, SKETCH61_H)
        with Locations((1.905, 0)):
            Rectangle(SKETCH61_W_2, SKETCH61_H_2, mode=Mode.SUBTRACT)
    extrude(amount=-CUT_EXTRUDE2_DEPTH, mode=Mode.SUBTRACT)


solid = part.part
